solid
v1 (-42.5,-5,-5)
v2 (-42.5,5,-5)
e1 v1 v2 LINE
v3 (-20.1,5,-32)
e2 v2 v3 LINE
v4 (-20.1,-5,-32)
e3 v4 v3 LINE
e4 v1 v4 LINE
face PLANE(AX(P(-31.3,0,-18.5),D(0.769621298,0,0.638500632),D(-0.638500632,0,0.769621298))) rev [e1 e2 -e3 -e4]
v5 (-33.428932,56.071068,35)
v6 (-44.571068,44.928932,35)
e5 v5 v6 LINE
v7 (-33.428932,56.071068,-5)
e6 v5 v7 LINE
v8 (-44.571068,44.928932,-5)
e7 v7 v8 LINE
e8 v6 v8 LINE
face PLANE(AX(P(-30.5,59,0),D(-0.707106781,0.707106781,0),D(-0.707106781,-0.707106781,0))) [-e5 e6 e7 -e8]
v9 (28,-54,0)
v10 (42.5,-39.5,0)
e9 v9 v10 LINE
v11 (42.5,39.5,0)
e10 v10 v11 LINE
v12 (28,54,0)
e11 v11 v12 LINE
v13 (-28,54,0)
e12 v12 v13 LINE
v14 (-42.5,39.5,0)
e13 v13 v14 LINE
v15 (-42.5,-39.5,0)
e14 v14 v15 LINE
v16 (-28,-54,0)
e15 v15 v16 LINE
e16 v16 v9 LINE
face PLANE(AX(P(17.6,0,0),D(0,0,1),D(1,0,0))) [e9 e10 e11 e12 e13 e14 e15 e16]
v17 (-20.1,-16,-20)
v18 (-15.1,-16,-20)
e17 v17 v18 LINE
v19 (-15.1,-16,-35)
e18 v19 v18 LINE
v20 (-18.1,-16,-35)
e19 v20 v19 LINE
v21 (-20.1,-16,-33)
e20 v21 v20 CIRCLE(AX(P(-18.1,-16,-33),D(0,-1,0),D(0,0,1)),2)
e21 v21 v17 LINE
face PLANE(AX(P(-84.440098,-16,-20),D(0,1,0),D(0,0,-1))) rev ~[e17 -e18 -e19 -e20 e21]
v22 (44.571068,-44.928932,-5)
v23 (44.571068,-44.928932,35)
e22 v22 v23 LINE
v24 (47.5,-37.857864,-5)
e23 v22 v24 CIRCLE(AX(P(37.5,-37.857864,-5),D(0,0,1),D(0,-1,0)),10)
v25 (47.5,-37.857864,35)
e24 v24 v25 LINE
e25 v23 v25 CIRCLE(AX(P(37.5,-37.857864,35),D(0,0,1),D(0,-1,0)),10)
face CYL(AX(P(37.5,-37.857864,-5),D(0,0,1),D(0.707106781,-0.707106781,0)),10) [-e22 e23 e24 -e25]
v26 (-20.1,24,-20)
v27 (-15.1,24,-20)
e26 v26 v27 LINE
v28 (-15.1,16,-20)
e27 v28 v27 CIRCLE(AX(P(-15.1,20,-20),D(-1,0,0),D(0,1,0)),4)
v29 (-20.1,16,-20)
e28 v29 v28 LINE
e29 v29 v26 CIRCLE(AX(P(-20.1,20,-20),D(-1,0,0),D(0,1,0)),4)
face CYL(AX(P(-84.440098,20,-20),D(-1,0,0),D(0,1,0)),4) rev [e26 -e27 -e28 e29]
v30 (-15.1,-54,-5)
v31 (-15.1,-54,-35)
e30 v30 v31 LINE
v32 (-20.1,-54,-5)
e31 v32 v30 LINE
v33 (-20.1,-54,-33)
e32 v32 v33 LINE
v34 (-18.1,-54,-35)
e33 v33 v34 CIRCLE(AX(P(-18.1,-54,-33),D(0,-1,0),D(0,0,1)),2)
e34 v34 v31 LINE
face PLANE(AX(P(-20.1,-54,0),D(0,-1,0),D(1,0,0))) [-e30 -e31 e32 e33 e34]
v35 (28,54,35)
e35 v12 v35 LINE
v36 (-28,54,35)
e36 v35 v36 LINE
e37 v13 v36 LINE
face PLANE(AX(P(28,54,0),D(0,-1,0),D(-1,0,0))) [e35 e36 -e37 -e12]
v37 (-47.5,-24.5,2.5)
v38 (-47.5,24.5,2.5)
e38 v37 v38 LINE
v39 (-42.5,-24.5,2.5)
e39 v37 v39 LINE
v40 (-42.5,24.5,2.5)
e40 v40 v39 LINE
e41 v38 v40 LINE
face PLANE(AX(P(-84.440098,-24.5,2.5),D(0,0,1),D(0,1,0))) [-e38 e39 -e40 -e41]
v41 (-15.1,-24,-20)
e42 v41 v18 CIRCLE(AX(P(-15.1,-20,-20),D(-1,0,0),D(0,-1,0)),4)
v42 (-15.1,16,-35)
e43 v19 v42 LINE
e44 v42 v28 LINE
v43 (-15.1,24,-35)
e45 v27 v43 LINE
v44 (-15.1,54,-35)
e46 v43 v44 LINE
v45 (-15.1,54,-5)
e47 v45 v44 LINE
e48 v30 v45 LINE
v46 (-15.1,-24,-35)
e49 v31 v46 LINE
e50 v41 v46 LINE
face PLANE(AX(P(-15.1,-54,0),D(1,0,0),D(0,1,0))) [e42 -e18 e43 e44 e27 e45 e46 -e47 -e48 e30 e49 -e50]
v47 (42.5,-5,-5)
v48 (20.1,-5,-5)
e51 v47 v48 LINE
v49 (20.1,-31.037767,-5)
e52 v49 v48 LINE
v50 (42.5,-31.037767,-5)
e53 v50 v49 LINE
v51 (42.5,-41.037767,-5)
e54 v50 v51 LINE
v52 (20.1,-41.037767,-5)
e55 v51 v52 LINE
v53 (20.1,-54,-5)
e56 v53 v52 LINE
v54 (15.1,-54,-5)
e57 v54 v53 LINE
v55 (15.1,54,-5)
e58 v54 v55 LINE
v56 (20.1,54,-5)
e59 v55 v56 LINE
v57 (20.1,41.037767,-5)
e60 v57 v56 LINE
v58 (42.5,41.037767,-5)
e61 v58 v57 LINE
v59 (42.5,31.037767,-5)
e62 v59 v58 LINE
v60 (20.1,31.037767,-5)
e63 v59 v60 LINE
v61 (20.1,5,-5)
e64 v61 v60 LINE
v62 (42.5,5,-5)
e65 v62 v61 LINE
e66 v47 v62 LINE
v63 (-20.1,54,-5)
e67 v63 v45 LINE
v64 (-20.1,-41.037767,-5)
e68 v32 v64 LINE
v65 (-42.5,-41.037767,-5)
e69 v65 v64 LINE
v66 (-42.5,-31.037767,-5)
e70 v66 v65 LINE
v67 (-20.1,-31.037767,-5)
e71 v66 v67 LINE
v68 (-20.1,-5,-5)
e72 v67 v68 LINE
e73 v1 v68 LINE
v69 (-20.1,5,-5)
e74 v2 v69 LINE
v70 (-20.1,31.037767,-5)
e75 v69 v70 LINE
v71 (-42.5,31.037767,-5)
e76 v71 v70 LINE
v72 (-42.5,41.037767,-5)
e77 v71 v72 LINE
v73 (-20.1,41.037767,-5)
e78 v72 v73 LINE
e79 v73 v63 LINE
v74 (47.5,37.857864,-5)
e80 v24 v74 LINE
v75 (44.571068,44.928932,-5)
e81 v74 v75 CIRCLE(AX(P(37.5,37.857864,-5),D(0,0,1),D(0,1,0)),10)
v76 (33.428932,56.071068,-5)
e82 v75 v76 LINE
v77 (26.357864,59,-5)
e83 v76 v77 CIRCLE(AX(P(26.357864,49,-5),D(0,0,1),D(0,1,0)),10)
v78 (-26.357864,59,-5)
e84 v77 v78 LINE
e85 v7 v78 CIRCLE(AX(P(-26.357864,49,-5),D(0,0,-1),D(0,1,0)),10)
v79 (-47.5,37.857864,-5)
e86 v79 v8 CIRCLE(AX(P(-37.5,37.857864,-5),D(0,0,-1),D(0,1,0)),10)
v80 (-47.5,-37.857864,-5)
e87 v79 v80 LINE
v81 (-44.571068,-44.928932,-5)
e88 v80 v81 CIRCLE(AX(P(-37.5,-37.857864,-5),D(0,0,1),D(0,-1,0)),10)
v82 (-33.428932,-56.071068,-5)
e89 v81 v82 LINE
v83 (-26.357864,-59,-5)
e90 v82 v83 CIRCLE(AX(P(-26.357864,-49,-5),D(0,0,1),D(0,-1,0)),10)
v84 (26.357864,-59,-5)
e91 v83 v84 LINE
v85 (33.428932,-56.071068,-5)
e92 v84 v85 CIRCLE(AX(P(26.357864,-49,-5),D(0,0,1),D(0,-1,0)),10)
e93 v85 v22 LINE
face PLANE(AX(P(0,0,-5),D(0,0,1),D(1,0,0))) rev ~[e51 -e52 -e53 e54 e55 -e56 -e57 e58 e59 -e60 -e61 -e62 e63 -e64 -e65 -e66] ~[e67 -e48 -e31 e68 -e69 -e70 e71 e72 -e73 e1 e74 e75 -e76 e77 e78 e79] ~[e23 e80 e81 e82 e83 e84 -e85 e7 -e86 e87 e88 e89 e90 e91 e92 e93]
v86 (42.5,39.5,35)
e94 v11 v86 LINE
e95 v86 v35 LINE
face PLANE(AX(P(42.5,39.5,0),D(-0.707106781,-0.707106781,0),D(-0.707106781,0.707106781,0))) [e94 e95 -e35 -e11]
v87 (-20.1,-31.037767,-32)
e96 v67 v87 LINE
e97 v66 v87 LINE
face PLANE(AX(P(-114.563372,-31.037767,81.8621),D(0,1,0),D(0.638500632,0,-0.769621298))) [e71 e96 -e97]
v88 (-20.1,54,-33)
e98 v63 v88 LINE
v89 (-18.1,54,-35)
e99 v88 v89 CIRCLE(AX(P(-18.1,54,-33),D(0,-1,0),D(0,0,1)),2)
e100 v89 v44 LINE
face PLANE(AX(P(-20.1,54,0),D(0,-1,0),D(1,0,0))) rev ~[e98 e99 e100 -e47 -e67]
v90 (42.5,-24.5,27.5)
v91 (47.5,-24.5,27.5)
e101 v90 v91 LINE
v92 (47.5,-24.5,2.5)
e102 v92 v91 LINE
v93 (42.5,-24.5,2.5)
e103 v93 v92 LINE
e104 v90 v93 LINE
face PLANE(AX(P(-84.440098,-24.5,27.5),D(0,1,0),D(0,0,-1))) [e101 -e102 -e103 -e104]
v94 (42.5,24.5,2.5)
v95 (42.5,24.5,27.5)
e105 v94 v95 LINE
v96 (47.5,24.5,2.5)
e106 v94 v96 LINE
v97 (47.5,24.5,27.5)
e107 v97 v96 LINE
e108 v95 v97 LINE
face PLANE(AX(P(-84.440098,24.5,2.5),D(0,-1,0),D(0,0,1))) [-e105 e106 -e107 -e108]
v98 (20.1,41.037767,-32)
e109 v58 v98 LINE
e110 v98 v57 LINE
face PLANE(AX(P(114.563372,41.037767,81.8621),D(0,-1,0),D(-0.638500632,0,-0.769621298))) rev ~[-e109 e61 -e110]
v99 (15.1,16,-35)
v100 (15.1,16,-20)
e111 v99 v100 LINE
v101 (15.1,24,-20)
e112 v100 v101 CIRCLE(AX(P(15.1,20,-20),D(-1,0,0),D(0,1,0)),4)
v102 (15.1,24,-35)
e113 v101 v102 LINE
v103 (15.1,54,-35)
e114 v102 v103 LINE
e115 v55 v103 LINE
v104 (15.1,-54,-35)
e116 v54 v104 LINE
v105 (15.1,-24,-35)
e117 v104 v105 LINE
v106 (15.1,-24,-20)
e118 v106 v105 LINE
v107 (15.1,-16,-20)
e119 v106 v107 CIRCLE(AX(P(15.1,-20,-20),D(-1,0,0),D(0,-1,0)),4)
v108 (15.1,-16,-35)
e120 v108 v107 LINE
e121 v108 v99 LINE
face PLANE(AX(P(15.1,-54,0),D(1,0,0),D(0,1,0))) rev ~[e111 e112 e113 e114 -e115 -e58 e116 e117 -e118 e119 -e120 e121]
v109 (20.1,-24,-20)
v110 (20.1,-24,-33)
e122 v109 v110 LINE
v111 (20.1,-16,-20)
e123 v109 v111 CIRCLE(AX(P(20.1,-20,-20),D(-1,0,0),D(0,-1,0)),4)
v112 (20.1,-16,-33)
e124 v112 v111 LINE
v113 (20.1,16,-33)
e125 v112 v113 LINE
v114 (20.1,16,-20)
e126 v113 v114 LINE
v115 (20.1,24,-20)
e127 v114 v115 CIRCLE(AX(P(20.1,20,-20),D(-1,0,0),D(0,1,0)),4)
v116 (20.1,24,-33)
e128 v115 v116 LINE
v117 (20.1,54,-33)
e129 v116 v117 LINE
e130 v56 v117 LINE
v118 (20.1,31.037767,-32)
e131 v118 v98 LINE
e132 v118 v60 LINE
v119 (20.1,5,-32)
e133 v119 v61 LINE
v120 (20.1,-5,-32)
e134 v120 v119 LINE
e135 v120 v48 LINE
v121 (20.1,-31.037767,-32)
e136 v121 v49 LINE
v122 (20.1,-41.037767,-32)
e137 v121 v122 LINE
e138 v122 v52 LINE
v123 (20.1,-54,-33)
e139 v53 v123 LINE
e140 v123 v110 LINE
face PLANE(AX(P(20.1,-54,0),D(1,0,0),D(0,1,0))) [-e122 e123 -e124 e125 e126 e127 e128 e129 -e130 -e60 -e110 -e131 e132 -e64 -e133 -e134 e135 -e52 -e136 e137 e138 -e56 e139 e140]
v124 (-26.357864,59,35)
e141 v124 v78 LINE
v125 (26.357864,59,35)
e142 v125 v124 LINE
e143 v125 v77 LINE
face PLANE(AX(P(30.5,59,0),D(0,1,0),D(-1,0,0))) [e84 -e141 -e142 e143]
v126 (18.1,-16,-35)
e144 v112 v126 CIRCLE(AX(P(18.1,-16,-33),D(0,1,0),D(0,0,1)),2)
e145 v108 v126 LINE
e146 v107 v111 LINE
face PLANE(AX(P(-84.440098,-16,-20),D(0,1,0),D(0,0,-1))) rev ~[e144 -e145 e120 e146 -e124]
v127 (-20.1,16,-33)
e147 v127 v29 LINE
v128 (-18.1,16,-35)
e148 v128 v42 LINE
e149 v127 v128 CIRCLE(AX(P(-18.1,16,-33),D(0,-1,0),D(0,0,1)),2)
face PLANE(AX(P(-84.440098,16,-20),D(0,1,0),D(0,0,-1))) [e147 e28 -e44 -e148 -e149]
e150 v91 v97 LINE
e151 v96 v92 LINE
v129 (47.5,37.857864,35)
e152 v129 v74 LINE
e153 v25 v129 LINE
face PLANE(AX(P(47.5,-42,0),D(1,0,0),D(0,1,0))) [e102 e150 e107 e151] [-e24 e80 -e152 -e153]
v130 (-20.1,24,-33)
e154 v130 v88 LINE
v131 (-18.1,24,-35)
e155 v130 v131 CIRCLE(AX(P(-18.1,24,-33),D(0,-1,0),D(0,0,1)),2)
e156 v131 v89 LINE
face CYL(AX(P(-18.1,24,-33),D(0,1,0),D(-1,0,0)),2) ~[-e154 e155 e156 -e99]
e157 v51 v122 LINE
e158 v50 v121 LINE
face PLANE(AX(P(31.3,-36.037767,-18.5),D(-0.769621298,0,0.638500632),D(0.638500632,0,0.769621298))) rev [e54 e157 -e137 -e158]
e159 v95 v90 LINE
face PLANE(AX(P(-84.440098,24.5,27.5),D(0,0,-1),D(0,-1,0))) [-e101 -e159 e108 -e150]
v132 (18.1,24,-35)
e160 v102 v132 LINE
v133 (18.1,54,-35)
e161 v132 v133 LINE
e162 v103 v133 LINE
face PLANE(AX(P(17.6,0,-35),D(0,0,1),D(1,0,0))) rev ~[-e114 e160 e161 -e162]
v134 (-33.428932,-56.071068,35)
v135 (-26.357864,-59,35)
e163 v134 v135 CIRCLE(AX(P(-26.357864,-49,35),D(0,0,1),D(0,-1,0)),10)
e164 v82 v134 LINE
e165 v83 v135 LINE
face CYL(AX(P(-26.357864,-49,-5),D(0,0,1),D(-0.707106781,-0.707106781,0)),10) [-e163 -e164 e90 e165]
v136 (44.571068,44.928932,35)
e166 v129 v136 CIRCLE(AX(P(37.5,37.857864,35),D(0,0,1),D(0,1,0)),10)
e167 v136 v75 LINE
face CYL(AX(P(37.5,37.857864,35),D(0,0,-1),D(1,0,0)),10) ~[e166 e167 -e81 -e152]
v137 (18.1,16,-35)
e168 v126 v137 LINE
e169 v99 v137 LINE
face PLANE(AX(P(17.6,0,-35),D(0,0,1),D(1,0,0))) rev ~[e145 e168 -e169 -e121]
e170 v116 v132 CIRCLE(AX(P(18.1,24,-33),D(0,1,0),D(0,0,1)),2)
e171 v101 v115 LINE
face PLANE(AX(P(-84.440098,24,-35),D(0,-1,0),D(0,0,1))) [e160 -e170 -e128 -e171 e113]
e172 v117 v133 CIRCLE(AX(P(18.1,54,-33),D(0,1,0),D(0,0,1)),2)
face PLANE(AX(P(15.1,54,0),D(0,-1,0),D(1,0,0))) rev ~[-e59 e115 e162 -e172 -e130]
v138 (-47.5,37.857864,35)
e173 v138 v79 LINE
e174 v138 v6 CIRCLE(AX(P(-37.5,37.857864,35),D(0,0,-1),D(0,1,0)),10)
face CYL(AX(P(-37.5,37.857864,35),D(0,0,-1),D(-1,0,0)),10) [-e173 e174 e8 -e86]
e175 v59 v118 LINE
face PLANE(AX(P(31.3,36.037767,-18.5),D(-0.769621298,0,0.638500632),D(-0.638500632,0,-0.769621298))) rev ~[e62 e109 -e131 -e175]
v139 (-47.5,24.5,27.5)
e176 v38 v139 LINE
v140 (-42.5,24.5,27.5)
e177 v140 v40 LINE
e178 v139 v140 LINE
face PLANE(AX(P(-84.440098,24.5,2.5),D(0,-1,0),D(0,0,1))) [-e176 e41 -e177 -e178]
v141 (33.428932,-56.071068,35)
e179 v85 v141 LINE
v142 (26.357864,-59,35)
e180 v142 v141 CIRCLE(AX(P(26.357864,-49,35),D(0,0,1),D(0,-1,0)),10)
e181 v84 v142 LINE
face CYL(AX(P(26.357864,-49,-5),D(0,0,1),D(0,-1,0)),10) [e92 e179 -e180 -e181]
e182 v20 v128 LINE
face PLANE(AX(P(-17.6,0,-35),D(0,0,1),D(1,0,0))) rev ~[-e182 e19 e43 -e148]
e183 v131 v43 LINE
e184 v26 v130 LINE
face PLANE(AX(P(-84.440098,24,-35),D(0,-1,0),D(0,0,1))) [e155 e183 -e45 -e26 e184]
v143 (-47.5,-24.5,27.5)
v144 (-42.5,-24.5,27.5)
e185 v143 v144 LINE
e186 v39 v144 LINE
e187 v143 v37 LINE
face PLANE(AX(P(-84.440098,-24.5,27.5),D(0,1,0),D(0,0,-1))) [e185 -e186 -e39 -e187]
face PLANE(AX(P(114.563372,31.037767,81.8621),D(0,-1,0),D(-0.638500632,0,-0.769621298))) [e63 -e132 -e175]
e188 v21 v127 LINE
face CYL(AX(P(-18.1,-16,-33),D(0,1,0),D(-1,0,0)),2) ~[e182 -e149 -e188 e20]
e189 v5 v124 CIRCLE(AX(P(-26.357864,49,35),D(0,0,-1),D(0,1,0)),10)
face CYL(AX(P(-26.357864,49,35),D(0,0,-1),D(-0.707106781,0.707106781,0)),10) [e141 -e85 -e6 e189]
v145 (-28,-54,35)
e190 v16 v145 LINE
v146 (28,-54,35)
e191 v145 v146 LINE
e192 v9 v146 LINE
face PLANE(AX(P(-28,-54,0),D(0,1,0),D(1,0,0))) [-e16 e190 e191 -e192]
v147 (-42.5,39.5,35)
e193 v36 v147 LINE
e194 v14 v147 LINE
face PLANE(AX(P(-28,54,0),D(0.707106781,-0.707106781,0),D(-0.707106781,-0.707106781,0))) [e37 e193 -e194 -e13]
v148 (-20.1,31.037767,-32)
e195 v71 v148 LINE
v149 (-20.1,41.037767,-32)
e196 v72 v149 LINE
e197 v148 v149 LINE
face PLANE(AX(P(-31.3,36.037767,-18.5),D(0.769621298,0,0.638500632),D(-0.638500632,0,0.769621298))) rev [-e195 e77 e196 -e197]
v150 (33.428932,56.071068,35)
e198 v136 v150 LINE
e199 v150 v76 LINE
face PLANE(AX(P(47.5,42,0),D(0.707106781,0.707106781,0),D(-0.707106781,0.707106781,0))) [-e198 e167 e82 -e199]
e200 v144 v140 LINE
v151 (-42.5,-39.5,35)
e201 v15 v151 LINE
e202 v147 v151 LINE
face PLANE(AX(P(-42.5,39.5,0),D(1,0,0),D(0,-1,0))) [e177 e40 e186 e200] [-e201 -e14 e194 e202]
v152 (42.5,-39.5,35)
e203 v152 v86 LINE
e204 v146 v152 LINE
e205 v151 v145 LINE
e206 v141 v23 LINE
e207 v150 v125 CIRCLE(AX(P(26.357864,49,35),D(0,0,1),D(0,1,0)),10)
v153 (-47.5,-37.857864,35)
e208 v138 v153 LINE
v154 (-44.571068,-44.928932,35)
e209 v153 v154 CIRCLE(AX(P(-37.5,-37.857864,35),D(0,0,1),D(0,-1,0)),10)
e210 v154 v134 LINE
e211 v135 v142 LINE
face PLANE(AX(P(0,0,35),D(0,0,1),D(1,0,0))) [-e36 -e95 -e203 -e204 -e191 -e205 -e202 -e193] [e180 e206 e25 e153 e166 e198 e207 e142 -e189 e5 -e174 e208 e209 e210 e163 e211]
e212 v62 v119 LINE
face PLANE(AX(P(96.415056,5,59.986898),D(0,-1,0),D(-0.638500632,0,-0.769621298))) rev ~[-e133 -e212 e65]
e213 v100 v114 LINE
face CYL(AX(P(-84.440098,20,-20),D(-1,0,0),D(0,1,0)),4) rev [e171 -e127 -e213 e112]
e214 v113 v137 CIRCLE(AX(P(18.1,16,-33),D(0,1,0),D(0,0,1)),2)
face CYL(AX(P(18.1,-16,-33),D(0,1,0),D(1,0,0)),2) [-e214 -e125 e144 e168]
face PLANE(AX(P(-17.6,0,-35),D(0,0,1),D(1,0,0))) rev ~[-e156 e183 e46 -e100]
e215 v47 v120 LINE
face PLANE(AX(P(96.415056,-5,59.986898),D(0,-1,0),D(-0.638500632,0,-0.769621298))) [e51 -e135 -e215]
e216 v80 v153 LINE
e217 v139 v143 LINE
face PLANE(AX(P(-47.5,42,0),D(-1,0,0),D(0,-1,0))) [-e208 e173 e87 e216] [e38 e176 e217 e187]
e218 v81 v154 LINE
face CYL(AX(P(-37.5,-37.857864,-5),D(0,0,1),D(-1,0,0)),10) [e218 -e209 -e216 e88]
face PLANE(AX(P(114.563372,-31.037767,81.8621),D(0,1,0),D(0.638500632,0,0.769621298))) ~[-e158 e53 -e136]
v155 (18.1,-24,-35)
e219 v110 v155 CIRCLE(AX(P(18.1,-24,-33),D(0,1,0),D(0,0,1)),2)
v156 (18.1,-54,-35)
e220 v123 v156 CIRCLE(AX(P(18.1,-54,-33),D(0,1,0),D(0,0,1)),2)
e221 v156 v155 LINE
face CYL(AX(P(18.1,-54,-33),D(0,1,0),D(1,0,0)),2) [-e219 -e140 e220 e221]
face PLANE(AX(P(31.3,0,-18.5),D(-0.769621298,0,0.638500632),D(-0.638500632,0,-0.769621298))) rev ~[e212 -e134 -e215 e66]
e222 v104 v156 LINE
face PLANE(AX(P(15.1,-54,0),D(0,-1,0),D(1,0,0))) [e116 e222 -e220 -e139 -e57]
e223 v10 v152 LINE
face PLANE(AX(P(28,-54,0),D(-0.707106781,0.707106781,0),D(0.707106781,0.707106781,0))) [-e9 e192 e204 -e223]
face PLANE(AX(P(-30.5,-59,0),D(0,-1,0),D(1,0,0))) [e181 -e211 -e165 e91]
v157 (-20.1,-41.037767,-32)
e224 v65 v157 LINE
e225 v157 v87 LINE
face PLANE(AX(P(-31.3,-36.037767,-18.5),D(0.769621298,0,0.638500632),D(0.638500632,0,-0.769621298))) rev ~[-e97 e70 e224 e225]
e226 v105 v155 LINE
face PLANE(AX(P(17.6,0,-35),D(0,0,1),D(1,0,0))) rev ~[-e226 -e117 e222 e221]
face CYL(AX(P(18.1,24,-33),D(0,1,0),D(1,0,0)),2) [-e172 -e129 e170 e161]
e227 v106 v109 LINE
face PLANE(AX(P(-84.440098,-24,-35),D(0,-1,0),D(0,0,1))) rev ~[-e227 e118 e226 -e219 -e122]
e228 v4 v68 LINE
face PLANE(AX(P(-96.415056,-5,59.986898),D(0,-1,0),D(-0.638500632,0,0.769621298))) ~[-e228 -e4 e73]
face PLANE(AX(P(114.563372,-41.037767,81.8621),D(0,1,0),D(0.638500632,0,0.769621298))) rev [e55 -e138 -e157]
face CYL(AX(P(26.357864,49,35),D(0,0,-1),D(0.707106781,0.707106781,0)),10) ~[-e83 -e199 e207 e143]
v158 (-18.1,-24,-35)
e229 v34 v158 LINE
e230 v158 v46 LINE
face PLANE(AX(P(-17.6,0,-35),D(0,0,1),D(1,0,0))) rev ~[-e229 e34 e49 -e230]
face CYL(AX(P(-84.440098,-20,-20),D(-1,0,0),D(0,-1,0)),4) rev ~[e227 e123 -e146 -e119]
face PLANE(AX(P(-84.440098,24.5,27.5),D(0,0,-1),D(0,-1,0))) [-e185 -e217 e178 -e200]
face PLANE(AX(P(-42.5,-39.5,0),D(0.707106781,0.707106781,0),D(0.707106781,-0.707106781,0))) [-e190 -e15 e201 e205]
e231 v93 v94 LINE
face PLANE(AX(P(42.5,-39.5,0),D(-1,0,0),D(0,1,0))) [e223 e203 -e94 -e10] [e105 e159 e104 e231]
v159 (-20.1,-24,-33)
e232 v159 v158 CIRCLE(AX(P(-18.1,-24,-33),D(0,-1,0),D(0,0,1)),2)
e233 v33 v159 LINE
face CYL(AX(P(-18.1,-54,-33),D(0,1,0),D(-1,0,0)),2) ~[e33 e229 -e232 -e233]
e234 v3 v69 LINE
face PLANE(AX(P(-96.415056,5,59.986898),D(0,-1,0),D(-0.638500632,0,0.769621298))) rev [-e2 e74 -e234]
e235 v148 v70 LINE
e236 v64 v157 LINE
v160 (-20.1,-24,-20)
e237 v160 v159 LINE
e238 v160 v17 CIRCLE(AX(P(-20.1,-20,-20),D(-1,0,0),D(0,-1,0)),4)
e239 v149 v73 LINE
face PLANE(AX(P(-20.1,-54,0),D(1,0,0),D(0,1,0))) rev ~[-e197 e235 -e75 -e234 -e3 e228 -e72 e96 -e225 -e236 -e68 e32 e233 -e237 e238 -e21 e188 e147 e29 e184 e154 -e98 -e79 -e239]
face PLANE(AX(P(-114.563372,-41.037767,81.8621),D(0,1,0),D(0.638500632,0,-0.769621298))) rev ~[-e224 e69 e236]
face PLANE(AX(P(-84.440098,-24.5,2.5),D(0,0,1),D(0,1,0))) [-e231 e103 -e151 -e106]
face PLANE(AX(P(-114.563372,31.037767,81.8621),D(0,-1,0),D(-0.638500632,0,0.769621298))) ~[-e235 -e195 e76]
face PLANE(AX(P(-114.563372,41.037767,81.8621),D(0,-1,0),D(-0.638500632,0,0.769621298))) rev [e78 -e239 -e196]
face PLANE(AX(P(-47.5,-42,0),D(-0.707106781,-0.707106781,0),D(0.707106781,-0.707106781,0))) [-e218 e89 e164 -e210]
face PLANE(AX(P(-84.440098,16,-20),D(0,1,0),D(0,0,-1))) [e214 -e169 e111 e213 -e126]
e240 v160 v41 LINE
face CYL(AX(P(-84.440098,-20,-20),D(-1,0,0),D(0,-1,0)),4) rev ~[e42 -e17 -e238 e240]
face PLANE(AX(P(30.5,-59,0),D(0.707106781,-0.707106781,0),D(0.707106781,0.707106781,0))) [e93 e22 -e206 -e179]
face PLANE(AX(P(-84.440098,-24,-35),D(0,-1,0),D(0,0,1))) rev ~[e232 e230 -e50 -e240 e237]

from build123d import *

# Parameters (mm, degrees)
EXTRUDE_2_DEPTH          = 35
EXTRUDE_3_DEPTH          = 5
CUT_EXTRUDE_1_DEPTH      = 84.440098274
CUT_EXTRUDE_1_DEPTH_BACK = 84.440098274
FILLET_1_R               = 10
SKETCH_3_W               = 5
SKETCH_3_H               = 108
EXTRUDE_4_DEPTH          = 35
CUT_EXTRUDE_2_DEPTH      = 84.440098274
CUT_EXTRUDE_2_DEPTH_BACK = 84.440098274
RIB_5_REACH              = 85.44
SKETCH_5_WALL_W          = 203.962385762
SKETCH_5_WALL_H          = 10
RIB_6_REACH              = 113.863
SKETCH_8_WALL_W          = 260.809051254
SKETCH_8_WALL_H          = 10
MIRROR_3_COPY_1_REACH    = 113.863
MIRROR_3_COPY_1_SKETCH_W = 260.809051254
MIRROR_3_COPY_1_SKETCH_H = 10
MIRROR_3_COPY_2_REACH    = 113.863
MIRROR_3_COPY_2_SKETCH_W = 260.809051254
MIRROR_3_COPY_2_SKETCH_H = 10
FILLET_2_R               = 2


with BuildPart() as part:
    # 스케치1 → 보스-돌출2 (new body)
    with BuildSketch(Plane.XY):
        Polygon((-47.5, 42), (-47.5, -42), (-30.5, -59), (30.5, -59), (47.5, -42), (47.5, 42), (30.5, 59), (-30.5, 59), align=None)
        Polygon((-42.5, 39.5), (-42.5, -39.5), (-28, -54), (28, -54), (42.5, -39.5), (42.5, 39.5), (28, 54), (-28, 54), align=None, mode=Mode.SUBTRACT)
    extrude(amount=EXTRUDE_2_DEPTH)

    # 스케치1<2> → 보스-돌출3 (add)
    with BuildSketch(Plane.XY):
        Polygon((-30.5, 59), (-47.5, 42), (-47.5, -42), (-30.5, -59), (30.5, -59), (47.5, -42), (47.5, 42), (30.5, 59), align=None)
    extrude(amount=-EXTRUDE_3_DEPTH)

    # 스케치2 → 컷-돌출1 (cut, two sides: drawn at the far end of the back side and taken through both)
    with BuildSketch(Plane(origin=(0, 0, 0), x_dir=(0, 0, -1), z_dir=(1, 0, 0)).offset(-CUT_EXTRUDE_1_DEPTH_BACK)):
        Polygon((-27.5, -24.5), (-7.5, -24.5), (-2.5, -24.5), (-2.5, 24.5), (-7.5, 24.5), (-27.5, 24.5), align=None)
    extrude(amount=CUT_EXTRUDE_1_DEPTH + CUT_EXTRUDE_1_DEPTH_BACK, mode=Mode.SUBTRACT)

    # 필렛1
    fillet_1_edges = [part.edges().sort_by_distance(p)[0] for p in [
        (-47.5, -42, 15),
        (-47.5, 42, 15),
        (-30.5, 59, 15),
        (30.5, 59, 15),
        (47.5, 42, 15),
        (47.5, -42, 15),
        (30.5, -59, 15),
        (-30.5, -59, 15),
    ]]
    fillet(fillet_1_edges, radius=FILLET_1_R)

    # 스케치3 → 보스-돌출4 (add)
    with BuildSketch(Plane.XY):
        with Locations((17.6, 0)):
            Rectangle(SKETCH_3_W, SKETCH_3_H)
        with Locations((-17.6, 0)):
            Rectangle(SKETCH_3_W, SKETCH_3_H)
    extrude(amount=-EXTRUDE_4_DEPTH)

    # 스케치4 → 컷-돌출2 (cut, two sides: drawn at the far end of the back side and taken through both)
    with BuildSketch(Plane(origin=(0, 0, 0), x_dir=(0, 0, -1), z_dir=(1, 0, 0)).offset(-CUT_EXTRUDE_2_DEPTH_BACK)):
        with BuildLine():
            Line((20, 16), (35, 16))
            Line((35, 16), (35, 24))
            Line((35, 24), (20, 24))
            ThreePointArc((20, 24), (16, 20), (20, 16))
        make_face()
        with BuildLine():
            Line((35, -16), (35, -24))
            Line((35, -24), (20, -24))
            ThreePointArc((20, -24), (16, -20), (20, -16))
            Line((20, -16), (35, -16))
        make_face()
    extrude(amount=CUT_EXTRUDE_2_DEPTH + CUT_EXTRUDE_2_DEPTH_BACK, mode=Mode.SUBTRACT)

    # 스케치5 wall → 보강대5 (add, up to next)
    with BuildSketch(Plane(origin=(31.3, 0, -18.5), x_dir=(-0.638500632437, 0, -0.769621298027), z_dir=(-0.769621298027, 0, 0.638500632437)), mode=Mode.PRIVATE) as rib_5_sk1:
        Rectangle(SKETCH_5_WALL_W, SKETCH_5_WALL_H)
    rib_5_tool1 = extrude(rib_5_sk1.sketch, amount=RIB_5_REACH, mode=Mode.PRIVATE) - part.part
    rib_5 = rib_5_tool1.solids().sort_by_distance((31.3, 0, -18.5))[0]
    add(rib_5)

    # 대칭 복사1: 보강대5 across plane
    add(rib_5.mirror(Plane(origin=(0, 0, 0), x_dir=(0, 0, 1), z_dir=(1, 0, 0))))

    # 스케치8 wall → 보강대6 (add, up to next)
    with BuildSketch(Plane(origin=(31.3, 36.037767227, -18.5), x_dir=(-0.638500632437, 0, -0.769621298027), z_dir=(-0.769621298027, 0, 0.638500632437)), mode=Mode.PRIVATE) as rib_6_sk1:
        Rectangle(SKETCH_8_WALL_W, SKETCH_8_WALL_H)
    rib_6_tool1 = extrude(rib_6_sk1.sketch, amount=RIB_6_REACH, mode=Mode.PRIVATE) - part.part
    rib_6 = rib_6_tool1.solids().sort_by_distance((31.3, 36.037767227, -18.5))[0]
    add(rib_6)

    # 대칭 복사2: 보강대6 across plane
    add(rib_6.mirror(Plane(origin=(0, 0, 0), x_dir=(0, 0, 1), z_dir=(1, 0, 0))))

    # 대칭 복사3 copy 1 sketch → 대칭 복사3 copy 1 (add, up to next)
    with BuildSketch(Plane(origin=(-31.3, -36.037767227, -18.5), x_dir=(0.638500632437, 0, -0.769621298027), z_dir=(0.769621298027, 0, 0.638500632437)), mode=Mode.PRIVATE) as mirror_3_copy_1_sk1:
        Rectangle(MIRROR_3_COPY_1_SKETCH_W, MIRROR_3_COPY_1_SKETCH_H)
    mirror_3_copy_1_tool1 = extrude(mirror_3_copy_1_sk1.sketch, amount=MIRROR_3_COPY_1_REACH, mode=Mode.PRIVATE) - part.part
    add(mirror_3_copy_1_tool1.solids().sort_by_distance((-31.3, -36.037767227, -18.5))[0])

    # 대칭 복사3 copy 2 sketch → 대칭 복사3 copy 2 (add, up to next)
    with BuildSketch(Plane(origin=(31.3, -36.037767227, -18.5), x_dir=(-0.638500632437, 0, -0.769621298027), z_dir=(-0.769621298027, 0, 0.638500632437)), mode=Mode.PRIVATE) as mirror_3_copy_2_sk1:
        Rectangle(MIRROR_3_COPY_2_SKETCH_W, MIRROR_3_COPY_2_SKETCH_H)
    mirror_3_copy_2_tool1 = extrude(mirror_3_copy_2_sk1.sketch, amount=MIRROR_3_COPY_2_REACH, mode=Mode.PRIVATE) - part.part
    add(mirror_3_copy_2_tool1.solids().sort_by_distance((31.3, -36.037767227, -18.5))[0])

    # 필렛2
    fillet_2_edges = [part.edges().sort_by_distance(p)[0] for p in [
        (-20.1, 39, -35),
        (-20.1, 0, -35),
        (-20.1, -39, -35),
        (20.1, 39, -35),
        (20.1, 0, -35),
        (20.1, -39, -35),
    ]]
    fillet(fillet_2_edges, radius=FILLET_2_R)


solid = part.part
